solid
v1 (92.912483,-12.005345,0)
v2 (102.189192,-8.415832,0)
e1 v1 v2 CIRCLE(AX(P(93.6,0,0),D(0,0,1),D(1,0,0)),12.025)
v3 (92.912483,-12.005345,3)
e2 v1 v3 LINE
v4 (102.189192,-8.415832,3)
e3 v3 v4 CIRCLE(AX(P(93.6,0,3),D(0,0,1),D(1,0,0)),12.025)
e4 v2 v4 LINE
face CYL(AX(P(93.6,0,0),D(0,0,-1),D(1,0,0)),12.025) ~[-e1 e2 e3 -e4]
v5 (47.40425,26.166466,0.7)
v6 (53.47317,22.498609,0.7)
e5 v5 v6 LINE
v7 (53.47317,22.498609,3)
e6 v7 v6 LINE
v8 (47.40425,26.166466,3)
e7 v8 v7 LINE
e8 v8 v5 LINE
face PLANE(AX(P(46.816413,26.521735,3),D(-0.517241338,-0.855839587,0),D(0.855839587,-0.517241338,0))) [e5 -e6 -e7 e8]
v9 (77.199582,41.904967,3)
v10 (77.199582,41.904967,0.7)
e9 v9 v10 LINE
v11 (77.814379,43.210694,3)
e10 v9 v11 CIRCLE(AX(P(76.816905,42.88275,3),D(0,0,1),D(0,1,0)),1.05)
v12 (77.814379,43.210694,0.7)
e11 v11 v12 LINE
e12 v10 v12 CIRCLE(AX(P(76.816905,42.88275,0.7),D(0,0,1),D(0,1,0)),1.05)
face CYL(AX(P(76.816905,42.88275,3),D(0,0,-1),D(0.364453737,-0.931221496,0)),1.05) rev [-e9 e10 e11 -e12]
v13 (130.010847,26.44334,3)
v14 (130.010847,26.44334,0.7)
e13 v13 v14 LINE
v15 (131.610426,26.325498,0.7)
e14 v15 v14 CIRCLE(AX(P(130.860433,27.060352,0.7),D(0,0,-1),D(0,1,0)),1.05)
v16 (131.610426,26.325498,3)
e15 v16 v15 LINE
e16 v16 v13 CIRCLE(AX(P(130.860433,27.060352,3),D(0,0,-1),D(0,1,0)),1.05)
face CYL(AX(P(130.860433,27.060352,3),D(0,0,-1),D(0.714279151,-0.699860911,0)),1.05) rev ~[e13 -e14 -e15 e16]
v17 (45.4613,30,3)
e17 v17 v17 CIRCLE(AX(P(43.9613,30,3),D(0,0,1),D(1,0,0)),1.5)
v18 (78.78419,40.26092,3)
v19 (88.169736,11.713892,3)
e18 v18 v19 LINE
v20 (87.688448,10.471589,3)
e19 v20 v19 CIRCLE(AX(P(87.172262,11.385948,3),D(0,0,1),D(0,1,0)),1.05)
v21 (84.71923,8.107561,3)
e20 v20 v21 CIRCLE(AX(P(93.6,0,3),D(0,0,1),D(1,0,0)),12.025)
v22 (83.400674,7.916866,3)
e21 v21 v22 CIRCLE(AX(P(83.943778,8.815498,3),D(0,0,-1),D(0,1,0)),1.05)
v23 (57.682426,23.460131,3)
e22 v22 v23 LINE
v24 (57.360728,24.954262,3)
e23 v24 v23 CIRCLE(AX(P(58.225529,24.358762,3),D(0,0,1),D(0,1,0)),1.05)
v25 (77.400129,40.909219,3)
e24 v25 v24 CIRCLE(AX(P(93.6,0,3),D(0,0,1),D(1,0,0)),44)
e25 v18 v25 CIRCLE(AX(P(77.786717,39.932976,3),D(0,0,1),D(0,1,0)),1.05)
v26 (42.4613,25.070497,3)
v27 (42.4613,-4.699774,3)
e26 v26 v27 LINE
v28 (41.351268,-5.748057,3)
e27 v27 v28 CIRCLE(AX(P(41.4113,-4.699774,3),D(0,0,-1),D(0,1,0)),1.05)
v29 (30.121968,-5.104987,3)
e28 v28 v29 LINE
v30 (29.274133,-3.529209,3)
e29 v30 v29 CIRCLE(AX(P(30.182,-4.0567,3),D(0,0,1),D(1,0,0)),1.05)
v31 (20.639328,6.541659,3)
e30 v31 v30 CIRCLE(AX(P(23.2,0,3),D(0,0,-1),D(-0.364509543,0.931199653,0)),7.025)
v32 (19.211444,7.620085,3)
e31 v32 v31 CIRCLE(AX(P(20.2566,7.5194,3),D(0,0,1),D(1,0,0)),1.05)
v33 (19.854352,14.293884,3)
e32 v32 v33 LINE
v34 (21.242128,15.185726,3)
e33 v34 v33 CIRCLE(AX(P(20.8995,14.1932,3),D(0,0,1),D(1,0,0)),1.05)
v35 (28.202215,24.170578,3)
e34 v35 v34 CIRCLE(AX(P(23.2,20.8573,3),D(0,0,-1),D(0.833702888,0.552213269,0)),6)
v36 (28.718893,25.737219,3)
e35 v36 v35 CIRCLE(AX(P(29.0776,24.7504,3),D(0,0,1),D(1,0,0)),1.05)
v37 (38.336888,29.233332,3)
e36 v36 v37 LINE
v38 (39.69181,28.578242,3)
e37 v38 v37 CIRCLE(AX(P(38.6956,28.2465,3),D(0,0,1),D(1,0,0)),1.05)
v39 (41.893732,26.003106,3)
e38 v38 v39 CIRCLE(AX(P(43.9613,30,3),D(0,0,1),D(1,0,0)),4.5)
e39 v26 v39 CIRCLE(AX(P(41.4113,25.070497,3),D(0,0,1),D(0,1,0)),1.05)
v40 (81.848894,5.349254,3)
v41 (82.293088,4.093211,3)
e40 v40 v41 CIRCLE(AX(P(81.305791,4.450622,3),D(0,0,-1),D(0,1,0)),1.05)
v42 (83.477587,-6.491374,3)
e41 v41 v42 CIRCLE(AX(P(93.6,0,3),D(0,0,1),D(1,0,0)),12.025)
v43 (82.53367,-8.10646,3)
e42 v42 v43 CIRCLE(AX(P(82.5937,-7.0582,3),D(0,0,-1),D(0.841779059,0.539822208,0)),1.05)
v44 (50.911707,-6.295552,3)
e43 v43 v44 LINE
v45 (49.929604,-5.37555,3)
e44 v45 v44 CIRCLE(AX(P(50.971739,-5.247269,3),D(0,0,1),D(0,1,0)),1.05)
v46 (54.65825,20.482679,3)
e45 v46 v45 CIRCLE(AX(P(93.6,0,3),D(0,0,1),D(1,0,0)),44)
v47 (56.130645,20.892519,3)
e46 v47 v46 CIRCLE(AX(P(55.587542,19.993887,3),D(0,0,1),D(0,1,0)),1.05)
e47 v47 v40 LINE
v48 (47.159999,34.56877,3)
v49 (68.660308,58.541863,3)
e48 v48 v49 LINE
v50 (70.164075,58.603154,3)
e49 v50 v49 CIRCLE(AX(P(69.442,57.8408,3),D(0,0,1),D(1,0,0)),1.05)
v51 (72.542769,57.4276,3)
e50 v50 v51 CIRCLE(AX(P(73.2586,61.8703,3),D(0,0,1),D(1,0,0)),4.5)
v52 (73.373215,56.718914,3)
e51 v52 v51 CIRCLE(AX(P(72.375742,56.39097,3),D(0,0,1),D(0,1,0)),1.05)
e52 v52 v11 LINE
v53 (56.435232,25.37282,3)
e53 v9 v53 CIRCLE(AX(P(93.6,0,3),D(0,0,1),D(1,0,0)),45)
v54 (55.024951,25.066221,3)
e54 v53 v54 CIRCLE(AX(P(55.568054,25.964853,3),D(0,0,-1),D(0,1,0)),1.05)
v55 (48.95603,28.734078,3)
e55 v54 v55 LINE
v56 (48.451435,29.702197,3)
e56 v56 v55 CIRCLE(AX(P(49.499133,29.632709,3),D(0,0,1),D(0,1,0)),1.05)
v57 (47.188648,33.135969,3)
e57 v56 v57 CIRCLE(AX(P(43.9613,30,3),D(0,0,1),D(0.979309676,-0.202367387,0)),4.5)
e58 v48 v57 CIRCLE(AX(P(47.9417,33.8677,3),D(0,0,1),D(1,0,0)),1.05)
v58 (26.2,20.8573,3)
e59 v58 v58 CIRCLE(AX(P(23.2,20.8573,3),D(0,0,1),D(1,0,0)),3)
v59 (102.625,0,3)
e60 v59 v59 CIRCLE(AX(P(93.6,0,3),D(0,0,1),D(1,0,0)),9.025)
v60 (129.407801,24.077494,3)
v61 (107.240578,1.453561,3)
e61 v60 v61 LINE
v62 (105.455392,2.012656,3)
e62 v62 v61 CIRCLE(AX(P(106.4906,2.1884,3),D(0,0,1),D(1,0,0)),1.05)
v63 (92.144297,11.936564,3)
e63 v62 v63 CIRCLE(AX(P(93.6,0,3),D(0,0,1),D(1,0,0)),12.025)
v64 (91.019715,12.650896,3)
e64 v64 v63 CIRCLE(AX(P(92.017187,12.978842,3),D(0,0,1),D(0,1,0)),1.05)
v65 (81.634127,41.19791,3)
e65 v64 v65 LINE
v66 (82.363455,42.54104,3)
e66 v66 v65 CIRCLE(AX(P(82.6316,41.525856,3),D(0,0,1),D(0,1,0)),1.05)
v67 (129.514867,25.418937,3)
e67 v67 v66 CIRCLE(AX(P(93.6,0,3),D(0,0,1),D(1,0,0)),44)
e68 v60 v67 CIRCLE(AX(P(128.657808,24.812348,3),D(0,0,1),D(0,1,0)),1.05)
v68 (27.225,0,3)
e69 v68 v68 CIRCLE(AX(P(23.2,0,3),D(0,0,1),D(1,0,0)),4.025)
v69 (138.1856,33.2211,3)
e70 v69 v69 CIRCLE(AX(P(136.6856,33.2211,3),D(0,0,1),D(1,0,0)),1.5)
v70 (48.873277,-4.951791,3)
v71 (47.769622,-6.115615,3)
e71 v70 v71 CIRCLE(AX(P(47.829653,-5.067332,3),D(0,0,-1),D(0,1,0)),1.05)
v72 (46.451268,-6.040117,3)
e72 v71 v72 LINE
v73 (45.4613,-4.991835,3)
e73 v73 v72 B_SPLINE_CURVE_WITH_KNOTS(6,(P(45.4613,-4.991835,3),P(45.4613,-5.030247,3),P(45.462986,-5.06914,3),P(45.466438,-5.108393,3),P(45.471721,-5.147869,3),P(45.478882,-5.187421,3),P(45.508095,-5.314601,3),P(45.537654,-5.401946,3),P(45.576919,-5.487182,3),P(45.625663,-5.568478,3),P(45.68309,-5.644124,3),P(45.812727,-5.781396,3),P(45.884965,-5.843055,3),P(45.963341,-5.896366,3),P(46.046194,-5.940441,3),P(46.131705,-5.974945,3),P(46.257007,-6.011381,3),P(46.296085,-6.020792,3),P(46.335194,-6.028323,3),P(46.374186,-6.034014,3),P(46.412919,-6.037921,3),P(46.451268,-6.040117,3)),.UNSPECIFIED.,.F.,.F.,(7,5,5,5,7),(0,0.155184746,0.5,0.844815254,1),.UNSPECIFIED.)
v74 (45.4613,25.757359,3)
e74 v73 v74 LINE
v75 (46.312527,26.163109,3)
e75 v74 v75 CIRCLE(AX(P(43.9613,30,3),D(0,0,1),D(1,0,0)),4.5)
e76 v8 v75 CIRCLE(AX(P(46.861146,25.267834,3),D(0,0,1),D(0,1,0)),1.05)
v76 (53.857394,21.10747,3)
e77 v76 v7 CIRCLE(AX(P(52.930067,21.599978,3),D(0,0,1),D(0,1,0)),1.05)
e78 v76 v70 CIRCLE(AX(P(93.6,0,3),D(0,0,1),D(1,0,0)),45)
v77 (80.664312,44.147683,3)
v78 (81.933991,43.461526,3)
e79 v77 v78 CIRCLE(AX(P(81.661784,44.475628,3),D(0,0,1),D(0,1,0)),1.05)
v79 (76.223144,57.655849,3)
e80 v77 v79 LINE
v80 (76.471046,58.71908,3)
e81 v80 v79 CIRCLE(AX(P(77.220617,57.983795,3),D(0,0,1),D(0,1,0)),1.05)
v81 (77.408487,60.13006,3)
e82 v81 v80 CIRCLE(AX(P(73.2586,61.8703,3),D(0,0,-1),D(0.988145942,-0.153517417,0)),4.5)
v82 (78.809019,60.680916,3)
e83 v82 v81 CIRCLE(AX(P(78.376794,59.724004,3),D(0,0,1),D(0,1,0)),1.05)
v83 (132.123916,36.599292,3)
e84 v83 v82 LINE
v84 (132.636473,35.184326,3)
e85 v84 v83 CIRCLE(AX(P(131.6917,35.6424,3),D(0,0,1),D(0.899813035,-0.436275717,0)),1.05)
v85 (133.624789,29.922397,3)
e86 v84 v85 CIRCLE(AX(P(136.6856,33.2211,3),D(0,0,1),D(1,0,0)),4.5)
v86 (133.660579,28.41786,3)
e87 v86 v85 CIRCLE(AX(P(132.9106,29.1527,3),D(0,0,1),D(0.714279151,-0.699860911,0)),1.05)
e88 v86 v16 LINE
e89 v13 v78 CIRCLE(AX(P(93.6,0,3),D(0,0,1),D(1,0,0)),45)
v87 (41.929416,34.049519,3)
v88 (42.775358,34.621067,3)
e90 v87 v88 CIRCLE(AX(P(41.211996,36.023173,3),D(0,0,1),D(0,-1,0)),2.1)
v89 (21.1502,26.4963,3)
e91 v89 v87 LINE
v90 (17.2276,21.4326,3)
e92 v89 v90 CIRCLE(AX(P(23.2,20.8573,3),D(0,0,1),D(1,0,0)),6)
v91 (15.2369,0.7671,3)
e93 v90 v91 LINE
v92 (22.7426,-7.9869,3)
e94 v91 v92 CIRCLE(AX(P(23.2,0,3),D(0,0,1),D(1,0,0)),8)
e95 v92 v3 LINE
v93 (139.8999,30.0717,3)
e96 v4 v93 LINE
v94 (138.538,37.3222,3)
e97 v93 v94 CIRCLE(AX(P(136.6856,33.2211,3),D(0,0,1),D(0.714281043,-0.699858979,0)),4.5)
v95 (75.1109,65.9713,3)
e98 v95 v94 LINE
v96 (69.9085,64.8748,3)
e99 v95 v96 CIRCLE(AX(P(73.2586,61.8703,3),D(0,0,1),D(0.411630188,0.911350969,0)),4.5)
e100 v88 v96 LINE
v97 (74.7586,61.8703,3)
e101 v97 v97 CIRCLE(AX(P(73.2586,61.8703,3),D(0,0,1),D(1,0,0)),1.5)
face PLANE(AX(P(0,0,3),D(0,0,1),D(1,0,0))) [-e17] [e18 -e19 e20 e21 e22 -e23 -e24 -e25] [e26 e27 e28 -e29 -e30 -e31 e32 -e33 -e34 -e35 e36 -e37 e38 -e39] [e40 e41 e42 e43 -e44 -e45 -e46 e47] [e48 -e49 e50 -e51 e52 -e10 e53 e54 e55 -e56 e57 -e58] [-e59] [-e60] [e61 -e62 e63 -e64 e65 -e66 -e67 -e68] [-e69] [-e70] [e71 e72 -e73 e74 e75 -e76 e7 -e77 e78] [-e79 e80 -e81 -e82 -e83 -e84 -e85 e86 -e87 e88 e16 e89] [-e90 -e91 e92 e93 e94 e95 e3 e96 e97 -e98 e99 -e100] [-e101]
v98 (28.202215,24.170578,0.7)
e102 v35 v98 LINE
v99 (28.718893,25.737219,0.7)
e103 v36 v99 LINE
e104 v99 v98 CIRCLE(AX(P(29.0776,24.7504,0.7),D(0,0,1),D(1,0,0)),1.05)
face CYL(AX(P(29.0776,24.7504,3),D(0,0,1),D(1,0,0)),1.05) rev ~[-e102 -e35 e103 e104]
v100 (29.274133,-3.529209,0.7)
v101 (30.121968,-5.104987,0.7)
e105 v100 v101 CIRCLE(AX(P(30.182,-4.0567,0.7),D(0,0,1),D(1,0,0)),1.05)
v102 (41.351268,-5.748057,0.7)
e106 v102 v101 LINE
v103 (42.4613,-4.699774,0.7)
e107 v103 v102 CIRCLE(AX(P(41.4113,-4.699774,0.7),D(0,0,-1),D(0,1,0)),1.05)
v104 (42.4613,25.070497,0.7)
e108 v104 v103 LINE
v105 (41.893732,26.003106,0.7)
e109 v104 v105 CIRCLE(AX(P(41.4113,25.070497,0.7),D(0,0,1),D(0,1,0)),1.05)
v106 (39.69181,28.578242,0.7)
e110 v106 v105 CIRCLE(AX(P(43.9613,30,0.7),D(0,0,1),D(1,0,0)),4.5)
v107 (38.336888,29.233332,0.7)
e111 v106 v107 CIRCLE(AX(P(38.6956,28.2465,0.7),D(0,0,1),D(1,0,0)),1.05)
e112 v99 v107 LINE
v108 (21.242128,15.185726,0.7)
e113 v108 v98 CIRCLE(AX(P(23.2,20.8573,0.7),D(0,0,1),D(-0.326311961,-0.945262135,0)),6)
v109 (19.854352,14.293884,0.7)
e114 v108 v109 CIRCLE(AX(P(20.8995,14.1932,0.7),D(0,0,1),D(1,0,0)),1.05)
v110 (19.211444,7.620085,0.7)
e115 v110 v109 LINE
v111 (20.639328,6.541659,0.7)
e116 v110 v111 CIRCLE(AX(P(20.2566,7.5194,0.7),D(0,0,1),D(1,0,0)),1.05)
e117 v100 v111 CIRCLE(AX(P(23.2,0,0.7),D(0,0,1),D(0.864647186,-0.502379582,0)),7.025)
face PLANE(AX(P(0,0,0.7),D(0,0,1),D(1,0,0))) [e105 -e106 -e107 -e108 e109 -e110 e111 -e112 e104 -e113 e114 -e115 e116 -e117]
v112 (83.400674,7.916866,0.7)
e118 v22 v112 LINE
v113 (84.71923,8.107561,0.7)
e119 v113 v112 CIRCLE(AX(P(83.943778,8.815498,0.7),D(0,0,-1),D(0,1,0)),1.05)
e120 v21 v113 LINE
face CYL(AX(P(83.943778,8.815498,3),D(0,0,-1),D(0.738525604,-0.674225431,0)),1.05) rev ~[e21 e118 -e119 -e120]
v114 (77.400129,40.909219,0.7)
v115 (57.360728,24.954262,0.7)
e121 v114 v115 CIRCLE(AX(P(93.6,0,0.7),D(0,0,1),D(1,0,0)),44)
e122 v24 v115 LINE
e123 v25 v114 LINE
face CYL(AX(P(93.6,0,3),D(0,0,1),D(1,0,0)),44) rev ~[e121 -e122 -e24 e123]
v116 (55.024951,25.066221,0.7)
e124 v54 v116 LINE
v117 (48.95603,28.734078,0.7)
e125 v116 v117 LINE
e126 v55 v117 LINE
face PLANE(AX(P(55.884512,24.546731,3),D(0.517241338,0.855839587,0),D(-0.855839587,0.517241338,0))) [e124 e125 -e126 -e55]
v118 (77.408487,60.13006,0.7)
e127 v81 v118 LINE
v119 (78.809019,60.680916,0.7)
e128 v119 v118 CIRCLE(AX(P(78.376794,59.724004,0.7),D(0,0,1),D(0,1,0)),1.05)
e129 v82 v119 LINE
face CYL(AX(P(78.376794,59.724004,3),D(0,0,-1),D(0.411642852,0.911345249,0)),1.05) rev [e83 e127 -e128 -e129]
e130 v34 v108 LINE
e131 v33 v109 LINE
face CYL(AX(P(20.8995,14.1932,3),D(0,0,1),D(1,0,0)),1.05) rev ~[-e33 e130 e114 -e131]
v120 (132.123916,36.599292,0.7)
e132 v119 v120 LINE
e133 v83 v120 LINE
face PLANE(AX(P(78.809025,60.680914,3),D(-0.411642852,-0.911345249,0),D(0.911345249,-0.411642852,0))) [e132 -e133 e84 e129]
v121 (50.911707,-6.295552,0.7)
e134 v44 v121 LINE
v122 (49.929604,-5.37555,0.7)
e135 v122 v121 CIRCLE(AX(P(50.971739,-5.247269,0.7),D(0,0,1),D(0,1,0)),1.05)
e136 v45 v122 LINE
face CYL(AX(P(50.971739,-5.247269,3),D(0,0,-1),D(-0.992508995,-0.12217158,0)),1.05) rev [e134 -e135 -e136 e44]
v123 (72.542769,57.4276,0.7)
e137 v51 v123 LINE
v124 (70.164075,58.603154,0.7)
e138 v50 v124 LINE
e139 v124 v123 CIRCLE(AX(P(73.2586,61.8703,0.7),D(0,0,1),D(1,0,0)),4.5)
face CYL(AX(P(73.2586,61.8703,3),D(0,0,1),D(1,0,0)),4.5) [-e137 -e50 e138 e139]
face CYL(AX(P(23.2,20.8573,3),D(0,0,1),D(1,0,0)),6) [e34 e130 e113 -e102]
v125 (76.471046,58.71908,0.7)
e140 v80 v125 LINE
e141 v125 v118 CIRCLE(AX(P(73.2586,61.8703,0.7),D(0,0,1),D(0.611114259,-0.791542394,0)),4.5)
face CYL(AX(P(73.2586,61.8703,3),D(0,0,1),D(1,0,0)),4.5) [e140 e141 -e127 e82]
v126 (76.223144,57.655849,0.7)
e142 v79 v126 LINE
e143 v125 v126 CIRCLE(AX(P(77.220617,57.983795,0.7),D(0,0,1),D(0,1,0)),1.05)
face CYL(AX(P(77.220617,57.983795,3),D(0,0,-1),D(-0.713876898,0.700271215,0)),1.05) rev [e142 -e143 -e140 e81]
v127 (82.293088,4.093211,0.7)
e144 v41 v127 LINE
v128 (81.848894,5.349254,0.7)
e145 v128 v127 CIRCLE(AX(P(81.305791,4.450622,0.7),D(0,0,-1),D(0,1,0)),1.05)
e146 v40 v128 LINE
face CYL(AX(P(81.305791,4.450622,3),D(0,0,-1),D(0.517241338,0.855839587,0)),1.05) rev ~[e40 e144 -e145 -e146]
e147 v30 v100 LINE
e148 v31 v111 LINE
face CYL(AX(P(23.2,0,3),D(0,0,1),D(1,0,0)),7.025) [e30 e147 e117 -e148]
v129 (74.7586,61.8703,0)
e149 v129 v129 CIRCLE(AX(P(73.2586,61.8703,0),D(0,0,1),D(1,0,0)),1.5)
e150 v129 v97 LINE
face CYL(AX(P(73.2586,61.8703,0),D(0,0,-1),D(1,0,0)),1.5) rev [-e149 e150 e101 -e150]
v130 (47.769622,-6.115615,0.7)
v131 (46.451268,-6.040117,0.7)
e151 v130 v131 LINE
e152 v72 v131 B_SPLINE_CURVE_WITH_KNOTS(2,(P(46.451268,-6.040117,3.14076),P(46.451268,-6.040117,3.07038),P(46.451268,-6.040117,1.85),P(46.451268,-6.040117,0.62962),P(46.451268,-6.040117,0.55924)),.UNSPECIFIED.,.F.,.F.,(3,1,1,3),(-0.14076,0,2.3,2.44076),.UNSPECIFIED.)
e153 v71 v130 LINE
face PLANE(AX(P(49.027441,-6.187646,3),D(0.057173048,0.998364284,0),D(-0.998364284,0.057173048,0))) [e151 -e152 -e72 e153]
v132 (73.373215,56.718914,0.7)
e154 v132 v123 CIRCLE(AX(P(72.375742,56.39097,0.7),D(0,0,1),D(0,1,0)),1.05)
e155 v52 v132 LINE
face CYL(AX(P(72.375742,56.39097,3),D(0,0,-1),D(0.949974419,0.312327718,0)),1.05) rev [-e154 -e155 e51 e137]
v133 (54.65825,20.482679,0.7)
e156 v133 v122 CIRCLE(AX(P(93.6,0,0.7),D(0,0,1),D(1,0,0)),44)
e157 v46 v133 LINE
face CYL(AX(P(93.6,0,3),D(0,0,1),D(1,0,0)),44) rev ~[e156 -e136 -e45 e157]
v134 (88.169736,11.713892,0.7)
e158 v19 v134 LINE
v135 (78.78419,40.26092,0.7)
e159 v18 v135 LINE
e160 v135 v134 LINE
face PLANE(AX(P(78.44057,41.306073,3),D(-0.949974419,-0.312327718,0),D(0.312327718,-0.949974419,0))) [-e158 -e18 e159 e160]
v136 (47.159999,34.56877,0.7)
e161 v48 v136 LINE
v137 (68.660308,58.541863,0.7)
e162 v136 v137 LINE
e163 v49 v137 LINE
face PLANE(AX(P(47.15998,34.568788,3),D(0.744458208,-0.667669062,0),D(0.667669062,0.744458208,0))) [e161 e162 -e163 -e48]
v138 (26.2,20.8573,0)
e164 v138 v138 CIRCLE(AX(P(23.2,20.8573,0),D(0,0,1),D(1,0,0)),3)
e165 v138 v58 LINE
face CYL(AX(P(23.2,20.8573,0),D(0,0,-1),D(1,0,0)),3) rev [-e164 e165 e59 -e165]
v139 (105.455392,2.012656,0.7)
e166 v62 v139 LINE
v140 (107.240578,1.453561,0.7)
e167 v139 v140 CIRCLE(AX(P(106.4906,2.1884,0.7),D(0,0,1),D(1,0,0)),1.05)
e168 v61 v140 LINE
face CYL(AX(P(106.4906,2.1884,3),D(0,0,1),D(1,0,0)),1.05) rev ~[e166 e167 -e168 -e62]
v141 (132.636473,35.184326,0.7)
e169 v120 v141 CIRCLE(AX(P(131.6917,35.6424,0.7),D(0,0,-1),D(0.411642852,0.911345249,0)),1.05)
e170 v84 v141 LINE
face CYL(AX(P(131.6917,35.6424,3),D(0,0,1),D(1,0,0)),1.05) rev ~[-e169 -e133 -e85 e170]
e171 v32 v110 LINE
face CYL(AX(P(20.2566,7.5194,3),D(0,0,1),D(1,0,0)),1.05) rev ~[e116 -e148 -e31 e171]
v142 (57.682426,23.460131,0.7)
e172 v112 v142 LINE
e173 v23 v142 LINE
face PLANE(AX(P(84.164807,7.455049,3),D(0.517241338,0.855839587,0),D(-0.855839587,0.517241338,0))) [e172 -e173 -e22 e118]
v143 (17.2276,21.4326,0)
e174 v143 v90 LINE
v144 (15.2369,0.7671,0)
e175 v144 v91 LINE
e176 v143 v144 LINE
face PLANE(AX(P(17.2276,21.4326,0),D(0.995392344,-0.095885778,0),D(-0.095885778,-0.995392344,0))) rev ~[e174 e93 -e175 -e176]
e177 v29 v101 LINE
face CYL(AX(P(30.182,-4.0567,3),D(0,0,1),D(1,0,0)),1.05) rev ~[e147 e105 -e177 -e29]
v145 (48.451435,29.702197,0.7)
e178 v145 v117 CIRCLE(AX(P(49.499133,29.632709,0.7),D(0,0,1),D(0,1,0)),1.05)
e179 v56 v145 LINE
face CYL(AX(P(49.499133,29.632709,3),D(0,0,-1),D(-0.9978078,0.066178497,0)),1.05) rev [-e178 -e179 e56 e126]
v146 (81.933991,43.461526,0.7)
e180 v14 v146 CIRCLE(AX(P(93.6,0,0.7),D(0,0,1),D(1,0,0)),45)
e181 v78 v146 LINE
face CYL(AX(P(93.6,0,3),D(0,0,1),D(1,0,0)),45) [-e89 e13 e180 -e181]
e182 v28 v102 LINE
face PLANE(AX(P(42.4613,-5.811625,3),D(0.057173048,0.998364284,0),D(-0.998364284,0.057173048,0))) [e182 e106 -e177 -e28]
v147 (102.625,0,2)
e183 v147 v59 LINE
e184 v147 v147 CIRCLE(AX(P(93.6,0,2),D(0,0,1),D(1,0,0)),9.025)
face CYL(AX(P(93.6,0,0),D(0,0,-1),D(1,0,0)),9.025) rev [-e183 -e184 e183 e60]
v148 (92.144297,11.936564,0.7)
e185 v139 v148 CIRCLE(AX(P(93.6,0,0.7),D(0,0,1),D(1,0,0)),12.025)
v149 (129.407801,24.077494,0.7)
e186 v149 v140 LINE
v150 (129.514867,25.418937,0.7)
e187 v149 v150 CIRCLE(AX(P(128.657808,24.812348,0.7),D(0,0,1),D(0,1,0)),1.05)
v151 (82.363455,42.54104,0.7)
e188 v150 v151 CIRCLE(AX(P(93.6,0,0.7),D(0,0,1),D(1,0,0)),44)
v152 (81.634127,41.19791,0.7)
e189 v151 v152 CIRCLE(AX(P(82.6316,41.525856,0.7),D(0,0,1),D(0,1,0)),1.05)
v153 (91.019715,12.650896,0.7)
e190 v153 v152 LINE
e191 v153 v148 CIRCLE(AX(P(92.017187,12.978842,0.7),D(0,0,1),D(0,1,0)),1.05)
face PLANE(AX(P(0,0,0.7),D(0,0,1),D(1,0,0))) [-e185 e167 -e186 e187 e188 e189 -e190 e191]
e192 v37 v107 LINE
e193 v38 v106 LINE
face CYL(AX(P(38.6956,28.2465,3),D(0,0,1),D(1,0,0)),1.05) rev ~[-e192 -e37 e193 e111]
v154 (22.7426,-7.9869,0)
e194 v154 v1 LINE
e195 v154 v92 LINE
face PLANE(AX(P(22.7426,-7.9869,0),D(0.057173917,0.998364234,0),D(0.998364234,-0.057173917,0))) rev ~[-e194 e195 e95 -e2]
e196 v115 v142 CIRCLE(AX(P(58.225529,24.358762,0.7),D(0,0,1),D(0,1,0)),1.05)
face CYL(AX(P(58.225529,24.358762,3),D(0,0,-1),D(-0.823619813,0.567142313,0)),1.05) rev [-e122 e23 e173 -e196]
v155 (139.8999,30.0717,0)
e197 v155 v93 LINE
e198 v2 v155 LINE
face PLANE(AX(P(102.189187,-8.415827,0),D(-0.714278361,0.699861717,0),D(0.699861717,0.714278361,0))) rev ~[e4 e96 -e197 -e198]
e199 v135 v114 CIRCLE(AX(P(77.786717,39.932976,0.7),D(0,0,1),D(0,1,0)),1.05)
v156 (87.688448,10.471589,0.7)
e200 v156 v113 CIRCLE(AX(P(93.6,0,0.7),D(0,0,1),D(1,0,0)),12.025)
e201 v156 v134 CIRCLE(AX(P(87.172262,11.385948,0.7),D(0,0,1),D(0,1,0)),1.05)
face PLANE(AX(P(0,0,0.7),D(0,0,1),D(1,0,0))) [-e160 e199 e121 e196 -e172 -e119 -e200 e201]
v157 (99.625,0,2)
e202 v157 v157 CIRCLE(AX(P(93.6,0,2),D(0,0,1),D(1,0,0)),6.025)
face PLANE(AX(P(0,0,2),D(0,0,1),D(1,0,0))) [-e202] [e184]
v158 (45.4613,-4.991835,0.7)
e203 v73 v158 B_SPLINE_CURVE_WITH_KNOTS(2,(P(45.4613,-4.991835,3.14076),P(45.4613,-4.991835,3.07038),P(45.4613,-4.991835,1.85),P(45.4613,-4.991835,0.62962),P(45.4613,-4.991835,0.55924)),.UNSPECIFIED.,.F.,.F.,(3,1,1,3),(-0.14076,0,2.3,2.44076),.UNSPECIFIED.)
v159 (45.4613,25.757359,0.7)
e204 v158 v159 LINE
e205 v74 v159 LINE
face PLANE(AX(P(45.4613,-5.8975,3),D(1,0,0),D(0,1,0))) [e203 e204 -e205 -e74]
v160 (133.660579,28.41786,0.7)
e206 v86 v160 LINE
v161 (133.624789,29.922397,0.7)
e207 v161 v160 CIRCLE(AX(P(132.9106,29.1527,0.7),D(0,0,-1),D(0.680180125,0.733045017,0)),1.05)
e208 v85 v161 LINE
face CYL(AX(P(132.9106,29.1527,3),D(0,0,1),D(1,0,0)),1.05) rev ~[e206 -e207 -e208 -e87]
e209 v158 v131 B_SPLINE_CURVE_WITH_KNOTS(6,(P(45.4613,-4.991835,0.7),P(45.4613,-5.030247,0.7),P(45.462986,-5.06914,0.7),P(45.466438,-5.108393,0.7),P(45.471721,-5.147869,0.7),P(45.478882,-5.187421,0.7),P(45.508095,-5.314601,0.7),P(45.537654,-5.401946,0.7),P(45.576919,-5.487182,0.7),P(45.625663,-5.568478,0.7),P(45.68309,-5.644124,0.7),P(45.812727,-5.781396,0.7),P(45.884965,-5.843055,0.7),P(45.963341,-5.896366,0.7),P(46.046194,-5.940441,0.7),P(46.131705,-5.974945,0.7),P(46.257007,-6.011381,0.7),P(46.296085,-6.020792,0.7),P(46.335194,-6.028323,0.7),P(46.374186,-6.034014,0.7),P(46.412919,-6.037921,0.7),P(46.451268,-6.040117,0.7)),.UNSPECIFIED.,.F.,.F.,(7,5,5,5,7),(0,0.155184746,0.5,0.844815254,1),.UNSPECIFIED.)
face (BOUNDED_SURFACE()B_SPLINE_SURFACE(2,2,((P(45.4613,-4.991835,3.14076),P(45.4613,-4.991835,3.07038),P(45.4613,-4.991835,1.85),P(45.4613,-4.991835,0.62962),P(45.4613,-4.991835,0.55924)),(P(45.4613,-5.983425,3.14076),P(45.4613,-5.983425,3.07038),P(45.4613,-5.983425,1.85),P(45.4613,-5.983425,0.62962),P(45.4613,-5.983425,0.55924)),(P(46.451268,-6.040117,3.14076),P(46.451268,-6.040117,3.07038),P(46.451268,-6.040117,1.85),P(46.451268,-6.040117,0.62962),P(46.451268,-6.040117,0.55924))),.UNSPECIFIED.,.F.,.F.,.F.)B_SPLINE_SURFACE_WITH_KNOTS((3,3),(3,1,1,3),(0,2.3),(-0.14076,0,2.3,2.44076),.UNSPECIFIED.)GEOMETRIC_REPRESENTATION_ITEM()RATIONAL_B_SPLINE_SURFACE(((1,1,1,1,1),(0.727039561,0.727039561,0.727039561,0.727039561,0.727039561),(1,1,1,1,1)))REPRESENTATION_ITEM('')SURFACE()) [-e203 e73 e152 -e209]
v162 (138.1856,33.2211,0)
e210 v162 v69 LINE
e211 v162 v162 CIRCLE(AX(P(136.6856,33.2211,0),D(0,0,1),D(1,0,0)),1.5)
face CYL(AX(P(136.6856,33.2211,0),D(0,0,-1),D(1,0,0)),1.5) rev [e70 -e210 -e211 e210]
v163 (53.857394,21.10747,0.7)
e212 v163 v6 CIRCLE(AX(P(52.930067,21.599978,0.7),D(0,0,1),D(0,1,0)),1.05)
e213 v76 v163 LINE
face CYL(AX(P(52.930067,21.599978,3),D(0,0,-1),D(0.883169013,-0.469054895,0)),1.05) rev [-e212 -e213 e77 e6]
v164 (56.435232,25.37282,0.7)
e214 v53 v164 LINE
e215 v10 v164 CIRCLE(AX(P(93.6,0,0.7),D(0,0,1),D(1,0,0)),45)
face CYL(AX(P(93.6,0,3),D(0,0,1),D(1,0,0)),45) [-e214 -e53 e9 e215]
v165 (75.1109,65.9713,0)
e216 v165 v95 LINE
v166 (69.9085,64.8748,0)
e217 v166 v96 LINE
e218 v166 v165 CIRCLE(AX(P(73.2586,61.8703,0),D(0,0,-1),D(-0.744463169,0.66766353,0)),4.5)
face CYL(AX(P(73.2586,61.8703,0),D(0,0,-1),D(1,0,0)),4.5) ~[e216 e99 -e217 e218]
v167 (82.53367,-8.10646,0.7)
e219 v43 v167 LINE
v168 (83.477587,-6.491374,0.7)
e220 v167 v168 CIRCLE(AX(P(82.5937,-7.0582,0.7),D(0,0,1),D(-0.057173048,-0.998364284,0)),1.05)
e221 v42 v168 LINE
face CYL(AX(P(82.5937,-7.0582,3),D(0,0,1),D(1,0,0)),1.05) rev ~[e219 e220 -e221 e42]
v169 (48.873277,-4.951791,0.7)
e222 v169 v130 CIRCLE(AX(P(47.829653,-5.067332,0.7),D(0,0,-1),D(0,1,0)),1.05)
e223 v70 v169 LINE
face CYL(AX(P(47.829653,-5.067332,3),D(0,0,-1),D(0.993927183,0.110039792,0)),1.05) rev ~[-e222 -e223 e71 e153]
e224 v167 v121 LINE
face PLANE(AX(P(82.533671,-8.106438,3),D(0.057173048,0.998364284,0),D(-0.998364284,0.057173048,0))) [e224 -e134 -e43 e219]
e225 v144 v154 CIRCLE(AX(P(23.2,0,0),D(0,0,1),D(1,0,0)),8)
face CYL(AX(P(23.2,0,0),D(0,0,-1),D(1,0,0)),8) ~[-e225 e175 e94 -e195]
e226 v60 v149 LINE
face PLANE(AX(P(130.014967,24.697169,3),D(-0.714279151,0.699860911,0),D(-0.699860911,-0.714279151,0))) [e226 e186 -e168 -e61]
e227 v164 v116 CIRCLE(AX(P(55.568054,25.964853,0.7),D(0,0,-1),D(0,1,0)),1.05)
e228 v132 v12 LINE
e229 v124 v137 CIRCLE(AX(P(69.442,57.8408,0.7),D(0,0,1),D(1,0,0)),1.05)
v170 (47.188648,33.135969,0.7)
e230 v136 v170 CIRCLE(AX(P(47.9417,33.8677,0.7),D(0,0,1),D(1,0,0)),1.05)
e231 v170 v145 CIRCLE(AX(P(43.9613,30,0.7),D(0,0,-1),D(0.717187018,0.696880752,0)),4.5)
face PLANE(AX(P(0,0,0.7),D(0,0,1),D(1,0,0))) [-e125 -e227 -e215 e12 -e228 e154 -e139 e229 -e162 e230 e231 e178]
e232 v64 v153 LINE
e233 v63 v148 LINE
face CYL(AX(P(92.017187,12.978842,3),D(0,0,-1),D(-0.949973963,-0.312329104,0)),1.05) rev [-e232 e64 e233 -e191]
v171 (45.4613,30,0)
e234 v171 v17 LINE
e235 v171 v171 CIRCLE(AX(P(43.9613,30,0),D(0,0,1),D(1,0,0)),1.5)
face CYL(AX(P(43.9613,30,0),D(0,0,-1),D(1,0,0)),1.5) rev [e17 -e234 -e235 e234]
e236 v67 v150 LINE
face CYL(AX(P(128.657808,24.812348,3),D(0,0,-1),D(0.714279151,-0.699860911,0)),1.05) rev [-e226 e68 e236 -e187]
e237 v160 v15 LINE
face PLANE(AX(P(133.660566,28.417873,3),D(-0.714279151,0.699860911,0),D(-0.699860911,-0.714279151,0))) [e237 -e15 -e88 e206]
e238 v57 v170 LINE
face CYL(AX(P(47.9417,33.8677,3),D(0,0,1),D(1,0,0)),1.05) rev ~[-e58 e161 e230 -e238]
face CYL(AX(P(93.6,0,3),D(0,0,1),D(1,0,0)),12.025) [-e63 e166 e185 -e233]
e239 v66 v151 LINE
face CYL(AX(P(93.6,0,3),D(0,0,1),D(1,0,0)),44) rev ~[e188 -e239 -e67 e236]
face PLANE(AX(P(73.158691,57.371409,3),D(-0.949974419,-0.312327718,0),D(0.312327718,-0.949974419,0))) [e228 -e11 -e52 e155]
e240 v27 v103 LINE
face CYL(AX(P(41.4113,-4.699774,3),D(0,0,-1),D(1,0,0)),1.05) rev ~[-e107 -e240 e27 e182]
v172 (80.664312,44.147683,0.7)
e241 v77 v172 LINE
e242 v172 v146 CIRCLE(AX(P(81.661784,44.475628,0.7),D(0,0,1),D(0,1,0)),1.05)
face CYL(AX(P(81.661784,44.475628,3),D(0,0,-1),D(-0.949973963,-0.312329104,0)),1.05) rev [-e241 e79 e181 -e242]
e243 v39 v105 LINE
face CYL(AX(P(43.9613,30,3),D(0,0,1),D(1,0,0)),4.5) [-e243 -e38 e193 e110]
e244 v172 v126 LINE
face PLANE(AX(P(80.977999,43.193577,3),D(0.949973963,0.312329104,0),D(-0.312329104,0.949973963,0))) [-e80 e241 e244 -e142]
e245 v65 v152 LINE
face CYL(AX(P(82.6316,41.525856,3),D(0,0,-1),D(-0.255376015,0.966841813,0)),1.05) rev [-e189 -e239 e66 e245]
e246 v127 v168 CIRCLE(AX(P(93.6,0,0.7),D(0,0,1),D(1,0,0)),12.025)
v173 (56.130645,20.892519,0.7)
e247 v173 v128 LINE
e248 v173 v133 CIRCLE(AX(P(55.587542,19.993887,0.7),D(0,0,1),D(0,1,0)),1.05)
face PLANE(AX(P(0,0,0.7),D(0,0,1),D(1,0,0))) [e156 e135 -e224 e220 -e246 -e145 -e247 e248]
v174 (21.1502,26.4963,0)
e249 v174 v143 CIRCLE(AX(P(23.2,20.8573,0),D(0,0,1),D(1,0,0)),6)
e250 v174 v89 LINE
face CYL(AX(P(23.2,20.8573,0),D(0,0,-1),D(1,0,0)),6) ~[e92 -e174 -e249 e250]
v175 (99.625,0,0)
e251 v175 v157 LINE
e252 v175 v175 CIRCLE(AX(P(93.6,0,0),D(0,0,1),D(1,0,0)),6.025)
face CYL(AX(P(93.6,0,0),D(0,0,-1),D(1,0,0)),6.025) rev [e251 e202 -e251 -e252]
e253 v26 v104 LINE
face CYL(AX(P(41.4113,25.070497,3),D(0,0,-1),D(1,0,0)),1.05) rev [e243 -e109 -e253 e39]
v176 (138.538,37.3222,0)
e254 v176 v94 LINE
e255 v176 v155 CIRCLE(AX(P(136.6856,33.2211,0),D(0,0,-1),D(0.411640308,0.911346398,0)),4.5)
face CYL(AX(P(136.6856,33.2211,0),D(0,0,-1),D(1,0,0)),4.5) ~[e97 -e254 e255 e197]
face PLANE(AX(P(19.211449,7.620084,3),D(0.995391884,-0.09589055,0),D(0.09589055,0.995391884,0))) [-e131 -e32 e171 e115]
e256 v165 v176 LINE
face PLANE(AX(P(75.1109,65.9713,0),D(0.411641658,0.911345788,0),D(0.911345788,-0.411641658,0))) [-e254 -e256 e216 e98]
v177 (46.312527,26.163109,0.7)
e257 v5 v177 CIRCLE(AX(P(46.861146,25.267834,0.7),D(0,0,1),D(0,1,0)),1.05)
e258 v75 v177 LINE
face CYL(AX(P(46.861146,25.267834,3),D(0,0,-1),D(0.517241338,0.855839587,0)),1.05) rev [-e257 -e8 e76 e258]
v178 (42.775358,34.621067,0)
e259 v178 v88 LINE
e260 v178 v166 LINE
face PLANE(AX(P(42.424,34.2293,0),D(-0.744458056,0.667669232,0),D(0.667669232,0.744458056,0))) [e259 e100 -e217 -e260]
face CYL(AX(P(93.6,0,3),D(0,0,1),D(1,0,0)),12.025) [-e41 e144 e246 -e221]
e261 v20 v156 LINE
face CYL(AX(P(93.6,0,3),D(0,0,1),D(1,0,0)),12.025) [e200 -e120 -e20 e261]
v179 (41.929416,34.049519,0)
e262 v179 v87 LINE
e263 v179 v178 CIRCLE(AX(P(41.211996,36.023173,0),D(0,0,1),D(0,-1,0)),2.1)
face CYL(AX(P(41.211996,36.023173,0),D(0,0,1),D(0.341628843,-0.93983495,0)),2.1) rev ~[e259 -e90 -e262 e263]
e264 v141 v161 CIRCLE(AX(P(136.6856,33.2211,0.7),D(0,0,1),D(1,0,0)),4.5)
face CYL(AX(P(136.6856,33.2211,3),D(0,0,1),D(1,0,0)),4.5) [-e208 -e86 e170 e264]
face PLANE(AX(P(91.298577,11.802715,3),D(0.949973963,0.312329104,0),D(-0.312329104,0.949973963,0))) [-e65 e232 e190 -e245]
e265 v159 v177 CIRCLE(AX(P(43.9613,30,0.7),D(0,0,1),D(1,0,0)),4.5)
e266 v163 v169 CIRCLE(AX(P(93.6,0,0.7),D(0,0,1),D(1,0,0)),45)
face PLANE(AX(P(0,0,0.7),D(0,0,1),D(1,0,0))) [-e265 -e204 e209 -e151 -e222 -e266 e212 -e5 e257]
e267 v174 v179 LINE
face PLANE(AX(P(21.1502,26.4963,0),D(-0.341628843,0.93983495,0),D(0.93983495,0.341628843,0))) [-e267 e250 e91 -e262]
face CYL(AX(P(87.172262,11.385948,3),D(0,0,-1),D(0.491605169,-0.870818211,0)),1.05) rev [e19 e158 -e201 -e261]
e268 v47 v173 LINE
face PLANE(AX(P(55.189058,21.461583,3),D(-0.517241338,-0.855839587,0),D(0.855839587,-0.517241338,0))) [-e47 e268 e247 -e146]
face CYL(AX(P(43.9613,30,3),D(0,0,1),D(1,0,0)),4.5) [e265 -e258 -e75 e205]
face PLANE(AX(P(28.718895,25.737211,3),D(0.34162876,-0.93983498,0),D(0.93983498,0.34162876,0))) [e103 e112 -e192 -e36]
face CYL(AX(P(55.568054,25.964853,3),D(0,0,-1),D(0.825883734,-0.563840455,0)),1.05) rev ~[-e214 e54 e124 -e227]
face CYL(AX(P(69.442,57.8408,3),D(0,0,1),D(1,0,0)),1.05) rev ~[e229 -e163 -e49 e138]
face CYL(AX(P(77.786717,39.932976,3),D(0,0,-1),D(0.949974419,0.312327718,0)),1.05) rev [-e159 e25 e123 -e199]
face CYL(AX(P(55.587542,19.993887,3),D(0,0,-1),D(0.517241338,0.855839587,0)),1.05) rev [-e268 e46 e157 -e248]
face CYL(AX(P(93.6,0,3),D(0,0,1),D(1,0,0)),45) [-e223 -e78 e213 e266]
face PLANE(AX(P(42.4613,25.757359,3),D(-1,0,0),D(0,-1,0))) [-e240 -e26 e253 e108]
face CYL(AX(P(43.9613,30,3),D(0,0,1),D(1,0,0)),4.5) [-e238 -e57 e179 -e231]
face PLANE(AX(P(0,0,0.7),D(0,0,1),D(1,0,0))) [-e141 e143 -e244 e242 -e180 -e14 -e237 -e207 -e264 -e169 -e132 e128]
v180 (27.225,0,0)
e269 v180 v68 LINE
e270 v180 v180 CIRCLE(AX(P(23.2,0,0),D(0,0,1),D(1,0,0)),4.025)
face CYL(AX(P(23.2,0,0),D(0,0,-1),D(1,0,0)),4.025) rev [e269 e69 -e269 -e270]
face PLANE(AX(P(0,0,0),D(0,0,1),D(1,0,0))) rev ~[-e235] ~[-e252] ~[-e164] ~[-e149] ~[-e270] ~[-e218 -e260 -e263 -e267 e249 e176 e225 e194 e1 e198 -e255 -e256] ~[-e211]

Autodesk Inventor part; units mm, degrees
ref_plane "YZ Plane" through (0, 0, 0) normal (1, 0, 0) x (0, 1, 0)
ref_plane "XZ Plane" through (0, 0, 0) normal (0, 1, 0) x (-1, 0, 0)
ref_plane "XY Plane" through (0, 0, 0) normal (0, 0, 1) x (1, 0, 0)
sketch "スケッチ1" plane through (0, 0, 0) normal (0, 0, 1) x (1, 0, 0)
  circle A0 centre (73.2586, 61.8703) radius 1.5
  circle A1 centre (136.6856, 33.2211) radius 1.5
  circle A2 centre (93.6, 0) radius 9.025
  circle A3 centre (43.9613, 30) radius 1.5
  circle A4 centre (73.2586, 61.8703) radius 1.5
  circle A5 centre (136.6856, 33.2211) radius 1.5
  circle A6 centre (93.6, 0) radius 6.025
  circle A7 centre (43.9613, 30) radius 1.5
  circle A8 centre (23.2, 0) radius 4.025
  circle A9 centre (23.2, 0) radius 5
  circle A10 centre (93.6, 0) radius 5.525
  circle A11 centre (23.2, 20.8573) radius 3
  circle A12 centre (73.2586, 61.8703) radius 4.5
  circle A13 centre (136.6856, 33.2211) radius 4.5
  circle A14 centre (43.9613, 30) radius 4.5
  circle A15 centre (23.2, 20.8573) radius 6
  circle A16 centre (23.2, 0) radius 8
  line L0 (17.2276, 21.4326) -> (15.2369, 0.7671)
  line L1 (22.7426, -7.9869) -> (94.1163, -12.0743)
  line L2 (101.6704, -8.9453) -> (139.8999, 30.0717)
  line L3 (75.1109, 65.9713) -> (138.538, 37.3222)
  line L4 (21.1502, 26.4963) -> (42.424, 34.2293)
  line L5 (42.424, 34.2293) -> (69.9085, 64.8748)
  circle A17 centre (93.6, 0) radius 12.025
  line L6 (72.6754, 67.0714) -> (140.5934, 36.3938)
  line L7 (70.544, 65.4593) -> (72.6754, 67.0714)
  line L8 (140.5934, 36.3938) -> (141.0798, 34.1916)
  point P0 (0, 0)
  point P1 (0, 0)
  point P2 (0, 0)
  point P3 (102.1892, -8.4158)
  point P4 (92.9125, -12.0053)
  dimension "d14" = 3
  dimension "d15" = 3
  dimension "d16" = 3
  dimension "d17" = 18.05
  dimension "d19" = 8.05
  dimension "d27" = 6
  dimension "d29" = 3
  dimension "d30" = 3
  dimension "d31" = 3
  dimension "d32" = 3
  dimension "d33" = 3
  dimension "d34" = 12.05
  dimension "d35" = 3
  dimension "d75" = 0
extrude "押し出し4" add sketch "スケッチ1" along normal blind 3 contours A9 | A12 | A14 | A12 L3 A13 L2 A17 L1 A16 L0 A15 L4 L5 | A13 | A15 | A17 | A16
extrude "押し出し5" add sketch "スケッチ1" along normal blind 2 contours A2 | A9
sketch "スケッチ3" plane through (0, 0, 3) normal (0, 0, 1) x (1, 0, 0)
  circle A0 centre (93.6, 0) radius 9.025 projected
  line L0 (42.424, 34.2293) -> (21.1502, 26.4963) projected
  arc A1 (21.1502, 26.4963) -> (17.2276, 21.4326) centre (23.2, 20.8573) ccw projected
  line L1 (17.2276, 21.4326) -> (15.2369, 0.7671) projected
  arc A2 (15.2369, 0.7671) -> (22.7426, -7.9869) centre (23.2, 0) ccw projected
  line L2 (22.7426, -7.9869) -> (92.9125, -12.0053) projected
  arc A3 (92.9125, -12.0053) -> (102.1892, -8.4158) centre (93.6, 0) ccw projected
  line L3 (102.1892, -8.4158) -> (139.8999, 30.0717) projected
  arc A4 (139.8999, 30.0717) -> (138.538, 37.3222) centre (136.6856, 33.2211) ccw projected
  arc A5 (75.1109, 65.9713) -> (69.9085, 64.8748) centre (73.2586, 61.8703) ccw projected
  line L4 (69.9085, 64.8748) -> (42.424, 34.2293) projected
  circle A6 centre (23.2, 0) radius 4.025 projected
  circle A7 centre (23.2, 20.8573) radius 3 projected
  circle A8 centre (43.9613, 30) radius 1.5 projected
  circle A9 centre (73.2586, 61.8703) radius 1.5 projected
  circle A10 centre (136.6856, 33.2211) radius 1.5 projected
  circle A11 centre (93.6, 0) radius 9.025 projected
  circle A12 centre (23.2, 20.8573) radius 6
  circle A13 centre (23.2, 0) radius 7.025
  circle A14 centre (43.9613, 30) radius 4.5
  circle A15 centre (73.2586, 61.8703) radius 4.5
  circle A16 centre (136.6856, 33.2211) radius 4.5
  circle A17 centre (93.6, 0) radius 12.025
  arc A18 (23.2, 1.5) -> (23.2, -1.5) centre (23.2, 0) ccw
  arc A19 (93.6, -1.5) -> (93.6, 1.5) centre (93.6, 0) ccw
  arc A20 (93.1739, -1.4382) -> (94.0261, 1.4382) centre (93.6, 0) ccw
  arc A21 (23.6261, 22.2955) -> (22.7739, 19.4191) centre (23.2, 20.8573) ccw
  line L5 (93.6, 0) -> (43.9613, 30) construction
  line L6 (94.3759, 1.2838) -> (44.7372, 31.2838)
  line L7 (43.1854, 28.7162) -> (92.8241, -1.2838)
  arc A22 (92.8241, -1.2838) -> (94.3759, 1.2838) centre (93.6, 0) ccw
  arc A23 (44.7372, 31.2838) -> (43.1854, 28.7162) centre (43.9613, 30) ccw
  line L8 (93.6, 0) -> (73.2586, 61.8703) construction
  line L9 (95.025, 0.4685) -> (74.6835, 62.3388)
  line L10 (71.8336, 61.4018) -> (92.175, -0.4685)
  arc A24 (92.175, -0.4685) -> (95.025, 0.4685) centre (93.6, 0) ccw
  arc A25 (74.6835, 62.3388) -> (71.8336, 61.4018) centre (73.2586, 61.8703) ccw
  arc A26 (92.6841, 1.1879) -> (94.5159, -1.1879) centre (93.6, 0) ccw
  arc A27 (137.6016, 32.0332) -> (135.7697, 34.409) centre (136.6856, 33.2211) ccw
  arc A28 (21.7, 0) -> (24.7, 0) centre (23.2, 0) ccw
  arc A29 (24.7, 20.8573) -> (21.7, 20.8573) centre (23.2, 20.8573) ccw
  arc A30 (22.5955, 22.2301) -> (23.8045, 19.4845) centre (23.2, 20.8573) ccw
  arc A31 (44.5658, 28.6272) -> (43.3568, 31.3728) centre (43.9613, 30) ccw
  arc A32 (42.857, 31.0151) -> (45.0656, 28.9849) centre (43.9613, 30) ccw
  arc A33 (74.3629, 60.8551) -> (72.1543, 62.8854) centre (73.2586, 61.8703) ccw
  arc A34 (73.876, 63.2373) -> (72.6411, 60.5032) centre (73.2586, 61.8703) ccw
  arc A35 (136.0682, 31.8541) -> (137.3031, 34.5881) centre (136.6856, 33.2211) ccw
  circle A36 centre (82.5937, -7.0582) radius 1.05
  line L11 (73.7529, 62.9647) -> (137.18, 34.3155)
  arc A37 (137.5434, 32.3807) -> (137.18, 34.3155) centre (136.6856, 33.2211) ccw
  line L12 (137.5434, 32.3807) -> (99.8327, -6.1069)
  arc A38 (93.1011, -8.7116) -> (99.8327, -6.1069) centre (93.6, 0) ccw
  line L13 (93.1011, -8.7116) -> (22.9312, -4.6932)
  arc A39 (18.5208, 0.4508) -> (22.9312, -4.6932) centre (23.2, 0) ccw
  line L14 (18.5208, 0.4508) -> (20.5116, 21.1163)
  arc A40 (22.2773, 23.3957) -> (20.5116, 21.1163) centre (23.2, 20.8573) ccw
  line L15 (22.2773, 23.3957) -> (44.328, 31.4111)
  line L16 (44.328, 31.4111) -> (72.3645, 62.6721)
  arc A41 (73.7529, 62.9647) -> (72.3645, 62.6721) centre (73.2586, 61.8703) ccw
  circle A42 centre (30.182, -4.0567) radius 1.05
  circle A43 centre (20.2566, 7.5194) radius 1.05
  circle A44 centre (20.8995, 14.1932) radius 1.05
  circle A45 centre (29.0776, 24.7504) radius 1.05
  circle A46 centre (38.6956, 28.2465) radius 1.05
  circle A47 centre (47.9417, 33.8677) radius 1.05
  circle A48 centre (69.442, 57.8408) radius 1.05
  circle A49 centre (78.3768, 59.724) radius 1.05
  circle A50 centre (131.6917, 35.6424) radius 1.05
  circle A51 centre (132.9106, 29.1527) radius 1.05
  circle A52 centre (106.4906, 2.1884) radius 1.05
  line L17 (43.9613, 30) -> (43.9613, -5.8975) construction
  line L18 (42.4613, 30) -> (42.4613, -5.8975)
  line L19 (45.4613, -5.8975) -> (45.4613, 30)
  arc A53 (45.4613, 30) -> (42.4613, 30) centre (43.9613, 30) ccw
  arc A54 (42.4613, -5.8975) -> (45.4613, -5.8975) centre (43.9613, -5.8975) ccw
  circle A55 centre (93.6, 0) radius 45
  circle A56 centre (93.6, 0) radius 44
  line L20 (73.0642, 63.604) -> (137.9882, 34.2787)
  line L21 (137.9882, 34.2787) -> (138.1503, 33.5446)
  arc A57 (137.7571, 32.1713) -> (138.1503, 33.5446) centre (136.6856, 33.2211) ccw
  line L22 (137.7571, 32.1713) -> (100.0464, -6.3162)
  arc A58 (93.084, -9.0102) -> (100.0464, -6.3162) centre (93.6, 0) ccw
  line L23 (93.084, -9.0102) -> (22.9141, -4.9918)
  arc A59 (18.223, 0.4794) -> (22.9141, -4.9918) centre (23.2, 0) ccw
  line L24 (18.223, 0.4794) -> (20.2138, 21.1449)
  arc A60 (22.1751, 23.6768) -> (20.2138, 21.1449) centre (23.2, 20.8573) ccw
  line L25 (22.1751, 23.6768) -> (44.1554, 31.6666)
  line L26 (44.1554, 31.6666) -> (72.1419, 62.8718)
  arc A61 (72.3537, 63.0666) -> (72.1419, 62.8718) centre (73.2586, 61.8703) ccw
  line L27 (72.3537, 63.0666) -> (73.0642, 63.604)
  line L28 (108.4929, 47.2731) -> (109.4236, 47.1809)
  line L29 (138.538, 37.3222) -> (75.1109, 65.9713) projected
  point P0 (0, 0)
  point P1 (58.4, 0)
  point P2 (68.7807, 15)
  point P3 (83.4293, 30.9351)
  point P4 (23.2, 10.4286)
  point P5 (33.5807, 25.4286)
  point P6 (58.6099, 45.9351)
  point P7 (104.9721, 47.5457)
  point P8 (76.0086, 58.3084)
  point P9 (91.2985, 11.8027)
  point P10 (48.3682, 29.0893)
  point P11 (84.1648, 7.455)
  point P12 (88.4486, 10.8657)
  point P13 (73.1587, 57.3714)
  point P14 (46.8165, 26.5218)
  point P15 (105.6234, -0.197)
  point P16 (134.5083, 29.283)
  point P17 (133.2277, 36.1008)
  point P18 (77.7052, 61.1795)
  point P19 (69.469, 59.4435)
  point P20 (46.4343, 33.7596)
  point P21 (39.4752, 29.6471)
  point P22 (27.3127, 25.226)
  point P23 (19.9978, 15.7832)
  point P24 (19.0213, 5.6471)
  point P25 (28.1431, -4.9917)
  point P26 (84.8406, -8.2386)
  point P27 (21.2421, 15.1857)
  point P28 (19.8543, 14.2939)
  point P29 (19.2114, 7.6201)
  point P30 (20.6393, 6.5417)
  point P31 (29.2741, -3.5292)
  point P32 (30.122, -5.105)
  point P33 (82.5337, -8.1065)
  point P34 (83.4776, -6.4914)
  point P35 (38.3369, 29.2333)
  point P36 (28.7189, 25.7372)
  point P37 (28.2022, 24.1705)
  point P38 (39.6918, 28.5782)
  point P39 (68.6603, 58.5418)
  point P40 (47.16, 34.5687)
  point P41 (47.1886, 33.136)
  point P42 (70.1641, 58.6031)
  point P43 (107.2406, 1.4535)
  point P44 (133.6606, 28.4179)
  point P45 (133.6248, 29.9224)
  point P46 (132.6365, 35.1843)
  point P47 (132.1239, 36.5993)
  point P48 (78.809, 60.6809)
  point P49 (77.4085, 60.1301)
  point P50 (105.4554, 2.0126)
  point P51 (43.9613, 12.0512)
  point P52 (45.4589, -5.9833)
  point P53 (82.613, 4.8875)
  point P54 (45.4613, 25.7574)
  point P55 (42.4613, -5.8116)
  point P56 (42.4613, 25.7574)
  point P57 (78.4406, 41.3061)
  point P58 (56.7408, 24.0292)
  point P59 (49.0274, -6.1877)
  point P60 (54.3328, 21.9792)
  point P61 (55.1891, 21.4616)
  point P62 (50.0456, -6.246)
  point P63 (80.978, 43.1936)
  point P64 (130.7287, 25.4256)
  point P65 (130.015, 24.6971)
  point P66 (81.2905, 42.2431)
  point P67 (55.8845, 24.5467)
  point P68 (78.1281, 42.2566)
  point P69 (75.7375, 65.6259)
  point P70 (69.3092, 59.7133)
  point P71 (77.7425, 61.4908)
  point P72 (73.876, 63.2373)
  dimension "d37" = 3
  dimension "d38" = 3
  dimension "d39" = 3
  dimension "d40" = 3
  dimension "d41" = 3
  dimension "d42" = 3
  dimension "d43" = 3
  dimension "d44" = 3
  dimension "d45" = 3
  dimension "d46" = 3
  dimension "d47" = 3
  dimension "d48" = 3
  dimension "d49" = 3
  dimension "d50" = 3
  dimension "d51" = 3
  dimension "d53" = 2.1
  dimension "d59" = 2.1
  dimension "d60" = 2.1
  dimension "d61" = 2.1
  dimension "d62" = 2.1
  dimension "d64" = 2.1
  dimension "d65" = 2.1
  dimension "d66" = 2.1
  dimension "d67" = 2.1
  dimension "d68" = 2.1
  dimension "d69" = 2.1
  dimension "d70" = 2.1
  dimension "d72" = 1.5
  dimension "d73" = 90
  dimension "d74" = 1
fillet "フィレット4" radius 2.1 1 edges at (42.424, 34.2293, 1.5)
extrude "押し出し9" cut sketch "スケッチ3" against normal blind 2.3 contours A17 A36 L13 A56 L7 | A36 | A52 A17 L9 A56 L12 | A52 | L6 A56 L10 A17 | L13 A54 L19 A14 L7 A55 | A55 L9 A15 A49 L11 A50 A16 A51 L12 | A51 | L6 A14 A47 L16 A48 A15 L10 A55 | L13 A42 A13 A43 L14 A44 A12 A45 L15 A46 A14 L18 | A42 | A50 | A15 L11 A49 | A49 | A46 | A48 | A47 | A7 L15 A40 L14 | A43 | A44 | L14 A40 L15 A7 | A45
fillet "フィレット5" radius 1.05 24 edges at (46.8165, 26.5218, 1.85) (48.3682, 29.0893, 1.85) (73.1587, 57.3714, 1.85) (76.0086, 58.3084, 1.85) (84.1648, 7.455, 1.85) (88.4486, 10.8657, 1.85) (91.2985, 11.8027, 1.85) (42.4613, -5.8116, 1.85) (45.4589, -5.9833, 1.85) (42.4613, 25.7574, 1.85) (82.613, 4.8875, 1.85) (49.0274, -6.1877, 1.85) (50.0456, -6.246, 1.85) (55.8845, 24.5467, 1.85) (54.3328, 21.9792, 1.85) (55.1891, 21.4616, 1.85) (56.7408, 24.0292, 1.85) (78.1281, 42.2566, 1.85) (78.4406, 41.3061, 1.85) (80.978, 43.1936, 1.85) (81.2905, 42.2431, 1.85) (130.7287, 25.4256, 1.85) (130.015, 24.6971, 1.85) (77.7052, 61.1795, 1.85)
properties part number "脚フレーム外側" material "ポリカーボネート、スモーク"
